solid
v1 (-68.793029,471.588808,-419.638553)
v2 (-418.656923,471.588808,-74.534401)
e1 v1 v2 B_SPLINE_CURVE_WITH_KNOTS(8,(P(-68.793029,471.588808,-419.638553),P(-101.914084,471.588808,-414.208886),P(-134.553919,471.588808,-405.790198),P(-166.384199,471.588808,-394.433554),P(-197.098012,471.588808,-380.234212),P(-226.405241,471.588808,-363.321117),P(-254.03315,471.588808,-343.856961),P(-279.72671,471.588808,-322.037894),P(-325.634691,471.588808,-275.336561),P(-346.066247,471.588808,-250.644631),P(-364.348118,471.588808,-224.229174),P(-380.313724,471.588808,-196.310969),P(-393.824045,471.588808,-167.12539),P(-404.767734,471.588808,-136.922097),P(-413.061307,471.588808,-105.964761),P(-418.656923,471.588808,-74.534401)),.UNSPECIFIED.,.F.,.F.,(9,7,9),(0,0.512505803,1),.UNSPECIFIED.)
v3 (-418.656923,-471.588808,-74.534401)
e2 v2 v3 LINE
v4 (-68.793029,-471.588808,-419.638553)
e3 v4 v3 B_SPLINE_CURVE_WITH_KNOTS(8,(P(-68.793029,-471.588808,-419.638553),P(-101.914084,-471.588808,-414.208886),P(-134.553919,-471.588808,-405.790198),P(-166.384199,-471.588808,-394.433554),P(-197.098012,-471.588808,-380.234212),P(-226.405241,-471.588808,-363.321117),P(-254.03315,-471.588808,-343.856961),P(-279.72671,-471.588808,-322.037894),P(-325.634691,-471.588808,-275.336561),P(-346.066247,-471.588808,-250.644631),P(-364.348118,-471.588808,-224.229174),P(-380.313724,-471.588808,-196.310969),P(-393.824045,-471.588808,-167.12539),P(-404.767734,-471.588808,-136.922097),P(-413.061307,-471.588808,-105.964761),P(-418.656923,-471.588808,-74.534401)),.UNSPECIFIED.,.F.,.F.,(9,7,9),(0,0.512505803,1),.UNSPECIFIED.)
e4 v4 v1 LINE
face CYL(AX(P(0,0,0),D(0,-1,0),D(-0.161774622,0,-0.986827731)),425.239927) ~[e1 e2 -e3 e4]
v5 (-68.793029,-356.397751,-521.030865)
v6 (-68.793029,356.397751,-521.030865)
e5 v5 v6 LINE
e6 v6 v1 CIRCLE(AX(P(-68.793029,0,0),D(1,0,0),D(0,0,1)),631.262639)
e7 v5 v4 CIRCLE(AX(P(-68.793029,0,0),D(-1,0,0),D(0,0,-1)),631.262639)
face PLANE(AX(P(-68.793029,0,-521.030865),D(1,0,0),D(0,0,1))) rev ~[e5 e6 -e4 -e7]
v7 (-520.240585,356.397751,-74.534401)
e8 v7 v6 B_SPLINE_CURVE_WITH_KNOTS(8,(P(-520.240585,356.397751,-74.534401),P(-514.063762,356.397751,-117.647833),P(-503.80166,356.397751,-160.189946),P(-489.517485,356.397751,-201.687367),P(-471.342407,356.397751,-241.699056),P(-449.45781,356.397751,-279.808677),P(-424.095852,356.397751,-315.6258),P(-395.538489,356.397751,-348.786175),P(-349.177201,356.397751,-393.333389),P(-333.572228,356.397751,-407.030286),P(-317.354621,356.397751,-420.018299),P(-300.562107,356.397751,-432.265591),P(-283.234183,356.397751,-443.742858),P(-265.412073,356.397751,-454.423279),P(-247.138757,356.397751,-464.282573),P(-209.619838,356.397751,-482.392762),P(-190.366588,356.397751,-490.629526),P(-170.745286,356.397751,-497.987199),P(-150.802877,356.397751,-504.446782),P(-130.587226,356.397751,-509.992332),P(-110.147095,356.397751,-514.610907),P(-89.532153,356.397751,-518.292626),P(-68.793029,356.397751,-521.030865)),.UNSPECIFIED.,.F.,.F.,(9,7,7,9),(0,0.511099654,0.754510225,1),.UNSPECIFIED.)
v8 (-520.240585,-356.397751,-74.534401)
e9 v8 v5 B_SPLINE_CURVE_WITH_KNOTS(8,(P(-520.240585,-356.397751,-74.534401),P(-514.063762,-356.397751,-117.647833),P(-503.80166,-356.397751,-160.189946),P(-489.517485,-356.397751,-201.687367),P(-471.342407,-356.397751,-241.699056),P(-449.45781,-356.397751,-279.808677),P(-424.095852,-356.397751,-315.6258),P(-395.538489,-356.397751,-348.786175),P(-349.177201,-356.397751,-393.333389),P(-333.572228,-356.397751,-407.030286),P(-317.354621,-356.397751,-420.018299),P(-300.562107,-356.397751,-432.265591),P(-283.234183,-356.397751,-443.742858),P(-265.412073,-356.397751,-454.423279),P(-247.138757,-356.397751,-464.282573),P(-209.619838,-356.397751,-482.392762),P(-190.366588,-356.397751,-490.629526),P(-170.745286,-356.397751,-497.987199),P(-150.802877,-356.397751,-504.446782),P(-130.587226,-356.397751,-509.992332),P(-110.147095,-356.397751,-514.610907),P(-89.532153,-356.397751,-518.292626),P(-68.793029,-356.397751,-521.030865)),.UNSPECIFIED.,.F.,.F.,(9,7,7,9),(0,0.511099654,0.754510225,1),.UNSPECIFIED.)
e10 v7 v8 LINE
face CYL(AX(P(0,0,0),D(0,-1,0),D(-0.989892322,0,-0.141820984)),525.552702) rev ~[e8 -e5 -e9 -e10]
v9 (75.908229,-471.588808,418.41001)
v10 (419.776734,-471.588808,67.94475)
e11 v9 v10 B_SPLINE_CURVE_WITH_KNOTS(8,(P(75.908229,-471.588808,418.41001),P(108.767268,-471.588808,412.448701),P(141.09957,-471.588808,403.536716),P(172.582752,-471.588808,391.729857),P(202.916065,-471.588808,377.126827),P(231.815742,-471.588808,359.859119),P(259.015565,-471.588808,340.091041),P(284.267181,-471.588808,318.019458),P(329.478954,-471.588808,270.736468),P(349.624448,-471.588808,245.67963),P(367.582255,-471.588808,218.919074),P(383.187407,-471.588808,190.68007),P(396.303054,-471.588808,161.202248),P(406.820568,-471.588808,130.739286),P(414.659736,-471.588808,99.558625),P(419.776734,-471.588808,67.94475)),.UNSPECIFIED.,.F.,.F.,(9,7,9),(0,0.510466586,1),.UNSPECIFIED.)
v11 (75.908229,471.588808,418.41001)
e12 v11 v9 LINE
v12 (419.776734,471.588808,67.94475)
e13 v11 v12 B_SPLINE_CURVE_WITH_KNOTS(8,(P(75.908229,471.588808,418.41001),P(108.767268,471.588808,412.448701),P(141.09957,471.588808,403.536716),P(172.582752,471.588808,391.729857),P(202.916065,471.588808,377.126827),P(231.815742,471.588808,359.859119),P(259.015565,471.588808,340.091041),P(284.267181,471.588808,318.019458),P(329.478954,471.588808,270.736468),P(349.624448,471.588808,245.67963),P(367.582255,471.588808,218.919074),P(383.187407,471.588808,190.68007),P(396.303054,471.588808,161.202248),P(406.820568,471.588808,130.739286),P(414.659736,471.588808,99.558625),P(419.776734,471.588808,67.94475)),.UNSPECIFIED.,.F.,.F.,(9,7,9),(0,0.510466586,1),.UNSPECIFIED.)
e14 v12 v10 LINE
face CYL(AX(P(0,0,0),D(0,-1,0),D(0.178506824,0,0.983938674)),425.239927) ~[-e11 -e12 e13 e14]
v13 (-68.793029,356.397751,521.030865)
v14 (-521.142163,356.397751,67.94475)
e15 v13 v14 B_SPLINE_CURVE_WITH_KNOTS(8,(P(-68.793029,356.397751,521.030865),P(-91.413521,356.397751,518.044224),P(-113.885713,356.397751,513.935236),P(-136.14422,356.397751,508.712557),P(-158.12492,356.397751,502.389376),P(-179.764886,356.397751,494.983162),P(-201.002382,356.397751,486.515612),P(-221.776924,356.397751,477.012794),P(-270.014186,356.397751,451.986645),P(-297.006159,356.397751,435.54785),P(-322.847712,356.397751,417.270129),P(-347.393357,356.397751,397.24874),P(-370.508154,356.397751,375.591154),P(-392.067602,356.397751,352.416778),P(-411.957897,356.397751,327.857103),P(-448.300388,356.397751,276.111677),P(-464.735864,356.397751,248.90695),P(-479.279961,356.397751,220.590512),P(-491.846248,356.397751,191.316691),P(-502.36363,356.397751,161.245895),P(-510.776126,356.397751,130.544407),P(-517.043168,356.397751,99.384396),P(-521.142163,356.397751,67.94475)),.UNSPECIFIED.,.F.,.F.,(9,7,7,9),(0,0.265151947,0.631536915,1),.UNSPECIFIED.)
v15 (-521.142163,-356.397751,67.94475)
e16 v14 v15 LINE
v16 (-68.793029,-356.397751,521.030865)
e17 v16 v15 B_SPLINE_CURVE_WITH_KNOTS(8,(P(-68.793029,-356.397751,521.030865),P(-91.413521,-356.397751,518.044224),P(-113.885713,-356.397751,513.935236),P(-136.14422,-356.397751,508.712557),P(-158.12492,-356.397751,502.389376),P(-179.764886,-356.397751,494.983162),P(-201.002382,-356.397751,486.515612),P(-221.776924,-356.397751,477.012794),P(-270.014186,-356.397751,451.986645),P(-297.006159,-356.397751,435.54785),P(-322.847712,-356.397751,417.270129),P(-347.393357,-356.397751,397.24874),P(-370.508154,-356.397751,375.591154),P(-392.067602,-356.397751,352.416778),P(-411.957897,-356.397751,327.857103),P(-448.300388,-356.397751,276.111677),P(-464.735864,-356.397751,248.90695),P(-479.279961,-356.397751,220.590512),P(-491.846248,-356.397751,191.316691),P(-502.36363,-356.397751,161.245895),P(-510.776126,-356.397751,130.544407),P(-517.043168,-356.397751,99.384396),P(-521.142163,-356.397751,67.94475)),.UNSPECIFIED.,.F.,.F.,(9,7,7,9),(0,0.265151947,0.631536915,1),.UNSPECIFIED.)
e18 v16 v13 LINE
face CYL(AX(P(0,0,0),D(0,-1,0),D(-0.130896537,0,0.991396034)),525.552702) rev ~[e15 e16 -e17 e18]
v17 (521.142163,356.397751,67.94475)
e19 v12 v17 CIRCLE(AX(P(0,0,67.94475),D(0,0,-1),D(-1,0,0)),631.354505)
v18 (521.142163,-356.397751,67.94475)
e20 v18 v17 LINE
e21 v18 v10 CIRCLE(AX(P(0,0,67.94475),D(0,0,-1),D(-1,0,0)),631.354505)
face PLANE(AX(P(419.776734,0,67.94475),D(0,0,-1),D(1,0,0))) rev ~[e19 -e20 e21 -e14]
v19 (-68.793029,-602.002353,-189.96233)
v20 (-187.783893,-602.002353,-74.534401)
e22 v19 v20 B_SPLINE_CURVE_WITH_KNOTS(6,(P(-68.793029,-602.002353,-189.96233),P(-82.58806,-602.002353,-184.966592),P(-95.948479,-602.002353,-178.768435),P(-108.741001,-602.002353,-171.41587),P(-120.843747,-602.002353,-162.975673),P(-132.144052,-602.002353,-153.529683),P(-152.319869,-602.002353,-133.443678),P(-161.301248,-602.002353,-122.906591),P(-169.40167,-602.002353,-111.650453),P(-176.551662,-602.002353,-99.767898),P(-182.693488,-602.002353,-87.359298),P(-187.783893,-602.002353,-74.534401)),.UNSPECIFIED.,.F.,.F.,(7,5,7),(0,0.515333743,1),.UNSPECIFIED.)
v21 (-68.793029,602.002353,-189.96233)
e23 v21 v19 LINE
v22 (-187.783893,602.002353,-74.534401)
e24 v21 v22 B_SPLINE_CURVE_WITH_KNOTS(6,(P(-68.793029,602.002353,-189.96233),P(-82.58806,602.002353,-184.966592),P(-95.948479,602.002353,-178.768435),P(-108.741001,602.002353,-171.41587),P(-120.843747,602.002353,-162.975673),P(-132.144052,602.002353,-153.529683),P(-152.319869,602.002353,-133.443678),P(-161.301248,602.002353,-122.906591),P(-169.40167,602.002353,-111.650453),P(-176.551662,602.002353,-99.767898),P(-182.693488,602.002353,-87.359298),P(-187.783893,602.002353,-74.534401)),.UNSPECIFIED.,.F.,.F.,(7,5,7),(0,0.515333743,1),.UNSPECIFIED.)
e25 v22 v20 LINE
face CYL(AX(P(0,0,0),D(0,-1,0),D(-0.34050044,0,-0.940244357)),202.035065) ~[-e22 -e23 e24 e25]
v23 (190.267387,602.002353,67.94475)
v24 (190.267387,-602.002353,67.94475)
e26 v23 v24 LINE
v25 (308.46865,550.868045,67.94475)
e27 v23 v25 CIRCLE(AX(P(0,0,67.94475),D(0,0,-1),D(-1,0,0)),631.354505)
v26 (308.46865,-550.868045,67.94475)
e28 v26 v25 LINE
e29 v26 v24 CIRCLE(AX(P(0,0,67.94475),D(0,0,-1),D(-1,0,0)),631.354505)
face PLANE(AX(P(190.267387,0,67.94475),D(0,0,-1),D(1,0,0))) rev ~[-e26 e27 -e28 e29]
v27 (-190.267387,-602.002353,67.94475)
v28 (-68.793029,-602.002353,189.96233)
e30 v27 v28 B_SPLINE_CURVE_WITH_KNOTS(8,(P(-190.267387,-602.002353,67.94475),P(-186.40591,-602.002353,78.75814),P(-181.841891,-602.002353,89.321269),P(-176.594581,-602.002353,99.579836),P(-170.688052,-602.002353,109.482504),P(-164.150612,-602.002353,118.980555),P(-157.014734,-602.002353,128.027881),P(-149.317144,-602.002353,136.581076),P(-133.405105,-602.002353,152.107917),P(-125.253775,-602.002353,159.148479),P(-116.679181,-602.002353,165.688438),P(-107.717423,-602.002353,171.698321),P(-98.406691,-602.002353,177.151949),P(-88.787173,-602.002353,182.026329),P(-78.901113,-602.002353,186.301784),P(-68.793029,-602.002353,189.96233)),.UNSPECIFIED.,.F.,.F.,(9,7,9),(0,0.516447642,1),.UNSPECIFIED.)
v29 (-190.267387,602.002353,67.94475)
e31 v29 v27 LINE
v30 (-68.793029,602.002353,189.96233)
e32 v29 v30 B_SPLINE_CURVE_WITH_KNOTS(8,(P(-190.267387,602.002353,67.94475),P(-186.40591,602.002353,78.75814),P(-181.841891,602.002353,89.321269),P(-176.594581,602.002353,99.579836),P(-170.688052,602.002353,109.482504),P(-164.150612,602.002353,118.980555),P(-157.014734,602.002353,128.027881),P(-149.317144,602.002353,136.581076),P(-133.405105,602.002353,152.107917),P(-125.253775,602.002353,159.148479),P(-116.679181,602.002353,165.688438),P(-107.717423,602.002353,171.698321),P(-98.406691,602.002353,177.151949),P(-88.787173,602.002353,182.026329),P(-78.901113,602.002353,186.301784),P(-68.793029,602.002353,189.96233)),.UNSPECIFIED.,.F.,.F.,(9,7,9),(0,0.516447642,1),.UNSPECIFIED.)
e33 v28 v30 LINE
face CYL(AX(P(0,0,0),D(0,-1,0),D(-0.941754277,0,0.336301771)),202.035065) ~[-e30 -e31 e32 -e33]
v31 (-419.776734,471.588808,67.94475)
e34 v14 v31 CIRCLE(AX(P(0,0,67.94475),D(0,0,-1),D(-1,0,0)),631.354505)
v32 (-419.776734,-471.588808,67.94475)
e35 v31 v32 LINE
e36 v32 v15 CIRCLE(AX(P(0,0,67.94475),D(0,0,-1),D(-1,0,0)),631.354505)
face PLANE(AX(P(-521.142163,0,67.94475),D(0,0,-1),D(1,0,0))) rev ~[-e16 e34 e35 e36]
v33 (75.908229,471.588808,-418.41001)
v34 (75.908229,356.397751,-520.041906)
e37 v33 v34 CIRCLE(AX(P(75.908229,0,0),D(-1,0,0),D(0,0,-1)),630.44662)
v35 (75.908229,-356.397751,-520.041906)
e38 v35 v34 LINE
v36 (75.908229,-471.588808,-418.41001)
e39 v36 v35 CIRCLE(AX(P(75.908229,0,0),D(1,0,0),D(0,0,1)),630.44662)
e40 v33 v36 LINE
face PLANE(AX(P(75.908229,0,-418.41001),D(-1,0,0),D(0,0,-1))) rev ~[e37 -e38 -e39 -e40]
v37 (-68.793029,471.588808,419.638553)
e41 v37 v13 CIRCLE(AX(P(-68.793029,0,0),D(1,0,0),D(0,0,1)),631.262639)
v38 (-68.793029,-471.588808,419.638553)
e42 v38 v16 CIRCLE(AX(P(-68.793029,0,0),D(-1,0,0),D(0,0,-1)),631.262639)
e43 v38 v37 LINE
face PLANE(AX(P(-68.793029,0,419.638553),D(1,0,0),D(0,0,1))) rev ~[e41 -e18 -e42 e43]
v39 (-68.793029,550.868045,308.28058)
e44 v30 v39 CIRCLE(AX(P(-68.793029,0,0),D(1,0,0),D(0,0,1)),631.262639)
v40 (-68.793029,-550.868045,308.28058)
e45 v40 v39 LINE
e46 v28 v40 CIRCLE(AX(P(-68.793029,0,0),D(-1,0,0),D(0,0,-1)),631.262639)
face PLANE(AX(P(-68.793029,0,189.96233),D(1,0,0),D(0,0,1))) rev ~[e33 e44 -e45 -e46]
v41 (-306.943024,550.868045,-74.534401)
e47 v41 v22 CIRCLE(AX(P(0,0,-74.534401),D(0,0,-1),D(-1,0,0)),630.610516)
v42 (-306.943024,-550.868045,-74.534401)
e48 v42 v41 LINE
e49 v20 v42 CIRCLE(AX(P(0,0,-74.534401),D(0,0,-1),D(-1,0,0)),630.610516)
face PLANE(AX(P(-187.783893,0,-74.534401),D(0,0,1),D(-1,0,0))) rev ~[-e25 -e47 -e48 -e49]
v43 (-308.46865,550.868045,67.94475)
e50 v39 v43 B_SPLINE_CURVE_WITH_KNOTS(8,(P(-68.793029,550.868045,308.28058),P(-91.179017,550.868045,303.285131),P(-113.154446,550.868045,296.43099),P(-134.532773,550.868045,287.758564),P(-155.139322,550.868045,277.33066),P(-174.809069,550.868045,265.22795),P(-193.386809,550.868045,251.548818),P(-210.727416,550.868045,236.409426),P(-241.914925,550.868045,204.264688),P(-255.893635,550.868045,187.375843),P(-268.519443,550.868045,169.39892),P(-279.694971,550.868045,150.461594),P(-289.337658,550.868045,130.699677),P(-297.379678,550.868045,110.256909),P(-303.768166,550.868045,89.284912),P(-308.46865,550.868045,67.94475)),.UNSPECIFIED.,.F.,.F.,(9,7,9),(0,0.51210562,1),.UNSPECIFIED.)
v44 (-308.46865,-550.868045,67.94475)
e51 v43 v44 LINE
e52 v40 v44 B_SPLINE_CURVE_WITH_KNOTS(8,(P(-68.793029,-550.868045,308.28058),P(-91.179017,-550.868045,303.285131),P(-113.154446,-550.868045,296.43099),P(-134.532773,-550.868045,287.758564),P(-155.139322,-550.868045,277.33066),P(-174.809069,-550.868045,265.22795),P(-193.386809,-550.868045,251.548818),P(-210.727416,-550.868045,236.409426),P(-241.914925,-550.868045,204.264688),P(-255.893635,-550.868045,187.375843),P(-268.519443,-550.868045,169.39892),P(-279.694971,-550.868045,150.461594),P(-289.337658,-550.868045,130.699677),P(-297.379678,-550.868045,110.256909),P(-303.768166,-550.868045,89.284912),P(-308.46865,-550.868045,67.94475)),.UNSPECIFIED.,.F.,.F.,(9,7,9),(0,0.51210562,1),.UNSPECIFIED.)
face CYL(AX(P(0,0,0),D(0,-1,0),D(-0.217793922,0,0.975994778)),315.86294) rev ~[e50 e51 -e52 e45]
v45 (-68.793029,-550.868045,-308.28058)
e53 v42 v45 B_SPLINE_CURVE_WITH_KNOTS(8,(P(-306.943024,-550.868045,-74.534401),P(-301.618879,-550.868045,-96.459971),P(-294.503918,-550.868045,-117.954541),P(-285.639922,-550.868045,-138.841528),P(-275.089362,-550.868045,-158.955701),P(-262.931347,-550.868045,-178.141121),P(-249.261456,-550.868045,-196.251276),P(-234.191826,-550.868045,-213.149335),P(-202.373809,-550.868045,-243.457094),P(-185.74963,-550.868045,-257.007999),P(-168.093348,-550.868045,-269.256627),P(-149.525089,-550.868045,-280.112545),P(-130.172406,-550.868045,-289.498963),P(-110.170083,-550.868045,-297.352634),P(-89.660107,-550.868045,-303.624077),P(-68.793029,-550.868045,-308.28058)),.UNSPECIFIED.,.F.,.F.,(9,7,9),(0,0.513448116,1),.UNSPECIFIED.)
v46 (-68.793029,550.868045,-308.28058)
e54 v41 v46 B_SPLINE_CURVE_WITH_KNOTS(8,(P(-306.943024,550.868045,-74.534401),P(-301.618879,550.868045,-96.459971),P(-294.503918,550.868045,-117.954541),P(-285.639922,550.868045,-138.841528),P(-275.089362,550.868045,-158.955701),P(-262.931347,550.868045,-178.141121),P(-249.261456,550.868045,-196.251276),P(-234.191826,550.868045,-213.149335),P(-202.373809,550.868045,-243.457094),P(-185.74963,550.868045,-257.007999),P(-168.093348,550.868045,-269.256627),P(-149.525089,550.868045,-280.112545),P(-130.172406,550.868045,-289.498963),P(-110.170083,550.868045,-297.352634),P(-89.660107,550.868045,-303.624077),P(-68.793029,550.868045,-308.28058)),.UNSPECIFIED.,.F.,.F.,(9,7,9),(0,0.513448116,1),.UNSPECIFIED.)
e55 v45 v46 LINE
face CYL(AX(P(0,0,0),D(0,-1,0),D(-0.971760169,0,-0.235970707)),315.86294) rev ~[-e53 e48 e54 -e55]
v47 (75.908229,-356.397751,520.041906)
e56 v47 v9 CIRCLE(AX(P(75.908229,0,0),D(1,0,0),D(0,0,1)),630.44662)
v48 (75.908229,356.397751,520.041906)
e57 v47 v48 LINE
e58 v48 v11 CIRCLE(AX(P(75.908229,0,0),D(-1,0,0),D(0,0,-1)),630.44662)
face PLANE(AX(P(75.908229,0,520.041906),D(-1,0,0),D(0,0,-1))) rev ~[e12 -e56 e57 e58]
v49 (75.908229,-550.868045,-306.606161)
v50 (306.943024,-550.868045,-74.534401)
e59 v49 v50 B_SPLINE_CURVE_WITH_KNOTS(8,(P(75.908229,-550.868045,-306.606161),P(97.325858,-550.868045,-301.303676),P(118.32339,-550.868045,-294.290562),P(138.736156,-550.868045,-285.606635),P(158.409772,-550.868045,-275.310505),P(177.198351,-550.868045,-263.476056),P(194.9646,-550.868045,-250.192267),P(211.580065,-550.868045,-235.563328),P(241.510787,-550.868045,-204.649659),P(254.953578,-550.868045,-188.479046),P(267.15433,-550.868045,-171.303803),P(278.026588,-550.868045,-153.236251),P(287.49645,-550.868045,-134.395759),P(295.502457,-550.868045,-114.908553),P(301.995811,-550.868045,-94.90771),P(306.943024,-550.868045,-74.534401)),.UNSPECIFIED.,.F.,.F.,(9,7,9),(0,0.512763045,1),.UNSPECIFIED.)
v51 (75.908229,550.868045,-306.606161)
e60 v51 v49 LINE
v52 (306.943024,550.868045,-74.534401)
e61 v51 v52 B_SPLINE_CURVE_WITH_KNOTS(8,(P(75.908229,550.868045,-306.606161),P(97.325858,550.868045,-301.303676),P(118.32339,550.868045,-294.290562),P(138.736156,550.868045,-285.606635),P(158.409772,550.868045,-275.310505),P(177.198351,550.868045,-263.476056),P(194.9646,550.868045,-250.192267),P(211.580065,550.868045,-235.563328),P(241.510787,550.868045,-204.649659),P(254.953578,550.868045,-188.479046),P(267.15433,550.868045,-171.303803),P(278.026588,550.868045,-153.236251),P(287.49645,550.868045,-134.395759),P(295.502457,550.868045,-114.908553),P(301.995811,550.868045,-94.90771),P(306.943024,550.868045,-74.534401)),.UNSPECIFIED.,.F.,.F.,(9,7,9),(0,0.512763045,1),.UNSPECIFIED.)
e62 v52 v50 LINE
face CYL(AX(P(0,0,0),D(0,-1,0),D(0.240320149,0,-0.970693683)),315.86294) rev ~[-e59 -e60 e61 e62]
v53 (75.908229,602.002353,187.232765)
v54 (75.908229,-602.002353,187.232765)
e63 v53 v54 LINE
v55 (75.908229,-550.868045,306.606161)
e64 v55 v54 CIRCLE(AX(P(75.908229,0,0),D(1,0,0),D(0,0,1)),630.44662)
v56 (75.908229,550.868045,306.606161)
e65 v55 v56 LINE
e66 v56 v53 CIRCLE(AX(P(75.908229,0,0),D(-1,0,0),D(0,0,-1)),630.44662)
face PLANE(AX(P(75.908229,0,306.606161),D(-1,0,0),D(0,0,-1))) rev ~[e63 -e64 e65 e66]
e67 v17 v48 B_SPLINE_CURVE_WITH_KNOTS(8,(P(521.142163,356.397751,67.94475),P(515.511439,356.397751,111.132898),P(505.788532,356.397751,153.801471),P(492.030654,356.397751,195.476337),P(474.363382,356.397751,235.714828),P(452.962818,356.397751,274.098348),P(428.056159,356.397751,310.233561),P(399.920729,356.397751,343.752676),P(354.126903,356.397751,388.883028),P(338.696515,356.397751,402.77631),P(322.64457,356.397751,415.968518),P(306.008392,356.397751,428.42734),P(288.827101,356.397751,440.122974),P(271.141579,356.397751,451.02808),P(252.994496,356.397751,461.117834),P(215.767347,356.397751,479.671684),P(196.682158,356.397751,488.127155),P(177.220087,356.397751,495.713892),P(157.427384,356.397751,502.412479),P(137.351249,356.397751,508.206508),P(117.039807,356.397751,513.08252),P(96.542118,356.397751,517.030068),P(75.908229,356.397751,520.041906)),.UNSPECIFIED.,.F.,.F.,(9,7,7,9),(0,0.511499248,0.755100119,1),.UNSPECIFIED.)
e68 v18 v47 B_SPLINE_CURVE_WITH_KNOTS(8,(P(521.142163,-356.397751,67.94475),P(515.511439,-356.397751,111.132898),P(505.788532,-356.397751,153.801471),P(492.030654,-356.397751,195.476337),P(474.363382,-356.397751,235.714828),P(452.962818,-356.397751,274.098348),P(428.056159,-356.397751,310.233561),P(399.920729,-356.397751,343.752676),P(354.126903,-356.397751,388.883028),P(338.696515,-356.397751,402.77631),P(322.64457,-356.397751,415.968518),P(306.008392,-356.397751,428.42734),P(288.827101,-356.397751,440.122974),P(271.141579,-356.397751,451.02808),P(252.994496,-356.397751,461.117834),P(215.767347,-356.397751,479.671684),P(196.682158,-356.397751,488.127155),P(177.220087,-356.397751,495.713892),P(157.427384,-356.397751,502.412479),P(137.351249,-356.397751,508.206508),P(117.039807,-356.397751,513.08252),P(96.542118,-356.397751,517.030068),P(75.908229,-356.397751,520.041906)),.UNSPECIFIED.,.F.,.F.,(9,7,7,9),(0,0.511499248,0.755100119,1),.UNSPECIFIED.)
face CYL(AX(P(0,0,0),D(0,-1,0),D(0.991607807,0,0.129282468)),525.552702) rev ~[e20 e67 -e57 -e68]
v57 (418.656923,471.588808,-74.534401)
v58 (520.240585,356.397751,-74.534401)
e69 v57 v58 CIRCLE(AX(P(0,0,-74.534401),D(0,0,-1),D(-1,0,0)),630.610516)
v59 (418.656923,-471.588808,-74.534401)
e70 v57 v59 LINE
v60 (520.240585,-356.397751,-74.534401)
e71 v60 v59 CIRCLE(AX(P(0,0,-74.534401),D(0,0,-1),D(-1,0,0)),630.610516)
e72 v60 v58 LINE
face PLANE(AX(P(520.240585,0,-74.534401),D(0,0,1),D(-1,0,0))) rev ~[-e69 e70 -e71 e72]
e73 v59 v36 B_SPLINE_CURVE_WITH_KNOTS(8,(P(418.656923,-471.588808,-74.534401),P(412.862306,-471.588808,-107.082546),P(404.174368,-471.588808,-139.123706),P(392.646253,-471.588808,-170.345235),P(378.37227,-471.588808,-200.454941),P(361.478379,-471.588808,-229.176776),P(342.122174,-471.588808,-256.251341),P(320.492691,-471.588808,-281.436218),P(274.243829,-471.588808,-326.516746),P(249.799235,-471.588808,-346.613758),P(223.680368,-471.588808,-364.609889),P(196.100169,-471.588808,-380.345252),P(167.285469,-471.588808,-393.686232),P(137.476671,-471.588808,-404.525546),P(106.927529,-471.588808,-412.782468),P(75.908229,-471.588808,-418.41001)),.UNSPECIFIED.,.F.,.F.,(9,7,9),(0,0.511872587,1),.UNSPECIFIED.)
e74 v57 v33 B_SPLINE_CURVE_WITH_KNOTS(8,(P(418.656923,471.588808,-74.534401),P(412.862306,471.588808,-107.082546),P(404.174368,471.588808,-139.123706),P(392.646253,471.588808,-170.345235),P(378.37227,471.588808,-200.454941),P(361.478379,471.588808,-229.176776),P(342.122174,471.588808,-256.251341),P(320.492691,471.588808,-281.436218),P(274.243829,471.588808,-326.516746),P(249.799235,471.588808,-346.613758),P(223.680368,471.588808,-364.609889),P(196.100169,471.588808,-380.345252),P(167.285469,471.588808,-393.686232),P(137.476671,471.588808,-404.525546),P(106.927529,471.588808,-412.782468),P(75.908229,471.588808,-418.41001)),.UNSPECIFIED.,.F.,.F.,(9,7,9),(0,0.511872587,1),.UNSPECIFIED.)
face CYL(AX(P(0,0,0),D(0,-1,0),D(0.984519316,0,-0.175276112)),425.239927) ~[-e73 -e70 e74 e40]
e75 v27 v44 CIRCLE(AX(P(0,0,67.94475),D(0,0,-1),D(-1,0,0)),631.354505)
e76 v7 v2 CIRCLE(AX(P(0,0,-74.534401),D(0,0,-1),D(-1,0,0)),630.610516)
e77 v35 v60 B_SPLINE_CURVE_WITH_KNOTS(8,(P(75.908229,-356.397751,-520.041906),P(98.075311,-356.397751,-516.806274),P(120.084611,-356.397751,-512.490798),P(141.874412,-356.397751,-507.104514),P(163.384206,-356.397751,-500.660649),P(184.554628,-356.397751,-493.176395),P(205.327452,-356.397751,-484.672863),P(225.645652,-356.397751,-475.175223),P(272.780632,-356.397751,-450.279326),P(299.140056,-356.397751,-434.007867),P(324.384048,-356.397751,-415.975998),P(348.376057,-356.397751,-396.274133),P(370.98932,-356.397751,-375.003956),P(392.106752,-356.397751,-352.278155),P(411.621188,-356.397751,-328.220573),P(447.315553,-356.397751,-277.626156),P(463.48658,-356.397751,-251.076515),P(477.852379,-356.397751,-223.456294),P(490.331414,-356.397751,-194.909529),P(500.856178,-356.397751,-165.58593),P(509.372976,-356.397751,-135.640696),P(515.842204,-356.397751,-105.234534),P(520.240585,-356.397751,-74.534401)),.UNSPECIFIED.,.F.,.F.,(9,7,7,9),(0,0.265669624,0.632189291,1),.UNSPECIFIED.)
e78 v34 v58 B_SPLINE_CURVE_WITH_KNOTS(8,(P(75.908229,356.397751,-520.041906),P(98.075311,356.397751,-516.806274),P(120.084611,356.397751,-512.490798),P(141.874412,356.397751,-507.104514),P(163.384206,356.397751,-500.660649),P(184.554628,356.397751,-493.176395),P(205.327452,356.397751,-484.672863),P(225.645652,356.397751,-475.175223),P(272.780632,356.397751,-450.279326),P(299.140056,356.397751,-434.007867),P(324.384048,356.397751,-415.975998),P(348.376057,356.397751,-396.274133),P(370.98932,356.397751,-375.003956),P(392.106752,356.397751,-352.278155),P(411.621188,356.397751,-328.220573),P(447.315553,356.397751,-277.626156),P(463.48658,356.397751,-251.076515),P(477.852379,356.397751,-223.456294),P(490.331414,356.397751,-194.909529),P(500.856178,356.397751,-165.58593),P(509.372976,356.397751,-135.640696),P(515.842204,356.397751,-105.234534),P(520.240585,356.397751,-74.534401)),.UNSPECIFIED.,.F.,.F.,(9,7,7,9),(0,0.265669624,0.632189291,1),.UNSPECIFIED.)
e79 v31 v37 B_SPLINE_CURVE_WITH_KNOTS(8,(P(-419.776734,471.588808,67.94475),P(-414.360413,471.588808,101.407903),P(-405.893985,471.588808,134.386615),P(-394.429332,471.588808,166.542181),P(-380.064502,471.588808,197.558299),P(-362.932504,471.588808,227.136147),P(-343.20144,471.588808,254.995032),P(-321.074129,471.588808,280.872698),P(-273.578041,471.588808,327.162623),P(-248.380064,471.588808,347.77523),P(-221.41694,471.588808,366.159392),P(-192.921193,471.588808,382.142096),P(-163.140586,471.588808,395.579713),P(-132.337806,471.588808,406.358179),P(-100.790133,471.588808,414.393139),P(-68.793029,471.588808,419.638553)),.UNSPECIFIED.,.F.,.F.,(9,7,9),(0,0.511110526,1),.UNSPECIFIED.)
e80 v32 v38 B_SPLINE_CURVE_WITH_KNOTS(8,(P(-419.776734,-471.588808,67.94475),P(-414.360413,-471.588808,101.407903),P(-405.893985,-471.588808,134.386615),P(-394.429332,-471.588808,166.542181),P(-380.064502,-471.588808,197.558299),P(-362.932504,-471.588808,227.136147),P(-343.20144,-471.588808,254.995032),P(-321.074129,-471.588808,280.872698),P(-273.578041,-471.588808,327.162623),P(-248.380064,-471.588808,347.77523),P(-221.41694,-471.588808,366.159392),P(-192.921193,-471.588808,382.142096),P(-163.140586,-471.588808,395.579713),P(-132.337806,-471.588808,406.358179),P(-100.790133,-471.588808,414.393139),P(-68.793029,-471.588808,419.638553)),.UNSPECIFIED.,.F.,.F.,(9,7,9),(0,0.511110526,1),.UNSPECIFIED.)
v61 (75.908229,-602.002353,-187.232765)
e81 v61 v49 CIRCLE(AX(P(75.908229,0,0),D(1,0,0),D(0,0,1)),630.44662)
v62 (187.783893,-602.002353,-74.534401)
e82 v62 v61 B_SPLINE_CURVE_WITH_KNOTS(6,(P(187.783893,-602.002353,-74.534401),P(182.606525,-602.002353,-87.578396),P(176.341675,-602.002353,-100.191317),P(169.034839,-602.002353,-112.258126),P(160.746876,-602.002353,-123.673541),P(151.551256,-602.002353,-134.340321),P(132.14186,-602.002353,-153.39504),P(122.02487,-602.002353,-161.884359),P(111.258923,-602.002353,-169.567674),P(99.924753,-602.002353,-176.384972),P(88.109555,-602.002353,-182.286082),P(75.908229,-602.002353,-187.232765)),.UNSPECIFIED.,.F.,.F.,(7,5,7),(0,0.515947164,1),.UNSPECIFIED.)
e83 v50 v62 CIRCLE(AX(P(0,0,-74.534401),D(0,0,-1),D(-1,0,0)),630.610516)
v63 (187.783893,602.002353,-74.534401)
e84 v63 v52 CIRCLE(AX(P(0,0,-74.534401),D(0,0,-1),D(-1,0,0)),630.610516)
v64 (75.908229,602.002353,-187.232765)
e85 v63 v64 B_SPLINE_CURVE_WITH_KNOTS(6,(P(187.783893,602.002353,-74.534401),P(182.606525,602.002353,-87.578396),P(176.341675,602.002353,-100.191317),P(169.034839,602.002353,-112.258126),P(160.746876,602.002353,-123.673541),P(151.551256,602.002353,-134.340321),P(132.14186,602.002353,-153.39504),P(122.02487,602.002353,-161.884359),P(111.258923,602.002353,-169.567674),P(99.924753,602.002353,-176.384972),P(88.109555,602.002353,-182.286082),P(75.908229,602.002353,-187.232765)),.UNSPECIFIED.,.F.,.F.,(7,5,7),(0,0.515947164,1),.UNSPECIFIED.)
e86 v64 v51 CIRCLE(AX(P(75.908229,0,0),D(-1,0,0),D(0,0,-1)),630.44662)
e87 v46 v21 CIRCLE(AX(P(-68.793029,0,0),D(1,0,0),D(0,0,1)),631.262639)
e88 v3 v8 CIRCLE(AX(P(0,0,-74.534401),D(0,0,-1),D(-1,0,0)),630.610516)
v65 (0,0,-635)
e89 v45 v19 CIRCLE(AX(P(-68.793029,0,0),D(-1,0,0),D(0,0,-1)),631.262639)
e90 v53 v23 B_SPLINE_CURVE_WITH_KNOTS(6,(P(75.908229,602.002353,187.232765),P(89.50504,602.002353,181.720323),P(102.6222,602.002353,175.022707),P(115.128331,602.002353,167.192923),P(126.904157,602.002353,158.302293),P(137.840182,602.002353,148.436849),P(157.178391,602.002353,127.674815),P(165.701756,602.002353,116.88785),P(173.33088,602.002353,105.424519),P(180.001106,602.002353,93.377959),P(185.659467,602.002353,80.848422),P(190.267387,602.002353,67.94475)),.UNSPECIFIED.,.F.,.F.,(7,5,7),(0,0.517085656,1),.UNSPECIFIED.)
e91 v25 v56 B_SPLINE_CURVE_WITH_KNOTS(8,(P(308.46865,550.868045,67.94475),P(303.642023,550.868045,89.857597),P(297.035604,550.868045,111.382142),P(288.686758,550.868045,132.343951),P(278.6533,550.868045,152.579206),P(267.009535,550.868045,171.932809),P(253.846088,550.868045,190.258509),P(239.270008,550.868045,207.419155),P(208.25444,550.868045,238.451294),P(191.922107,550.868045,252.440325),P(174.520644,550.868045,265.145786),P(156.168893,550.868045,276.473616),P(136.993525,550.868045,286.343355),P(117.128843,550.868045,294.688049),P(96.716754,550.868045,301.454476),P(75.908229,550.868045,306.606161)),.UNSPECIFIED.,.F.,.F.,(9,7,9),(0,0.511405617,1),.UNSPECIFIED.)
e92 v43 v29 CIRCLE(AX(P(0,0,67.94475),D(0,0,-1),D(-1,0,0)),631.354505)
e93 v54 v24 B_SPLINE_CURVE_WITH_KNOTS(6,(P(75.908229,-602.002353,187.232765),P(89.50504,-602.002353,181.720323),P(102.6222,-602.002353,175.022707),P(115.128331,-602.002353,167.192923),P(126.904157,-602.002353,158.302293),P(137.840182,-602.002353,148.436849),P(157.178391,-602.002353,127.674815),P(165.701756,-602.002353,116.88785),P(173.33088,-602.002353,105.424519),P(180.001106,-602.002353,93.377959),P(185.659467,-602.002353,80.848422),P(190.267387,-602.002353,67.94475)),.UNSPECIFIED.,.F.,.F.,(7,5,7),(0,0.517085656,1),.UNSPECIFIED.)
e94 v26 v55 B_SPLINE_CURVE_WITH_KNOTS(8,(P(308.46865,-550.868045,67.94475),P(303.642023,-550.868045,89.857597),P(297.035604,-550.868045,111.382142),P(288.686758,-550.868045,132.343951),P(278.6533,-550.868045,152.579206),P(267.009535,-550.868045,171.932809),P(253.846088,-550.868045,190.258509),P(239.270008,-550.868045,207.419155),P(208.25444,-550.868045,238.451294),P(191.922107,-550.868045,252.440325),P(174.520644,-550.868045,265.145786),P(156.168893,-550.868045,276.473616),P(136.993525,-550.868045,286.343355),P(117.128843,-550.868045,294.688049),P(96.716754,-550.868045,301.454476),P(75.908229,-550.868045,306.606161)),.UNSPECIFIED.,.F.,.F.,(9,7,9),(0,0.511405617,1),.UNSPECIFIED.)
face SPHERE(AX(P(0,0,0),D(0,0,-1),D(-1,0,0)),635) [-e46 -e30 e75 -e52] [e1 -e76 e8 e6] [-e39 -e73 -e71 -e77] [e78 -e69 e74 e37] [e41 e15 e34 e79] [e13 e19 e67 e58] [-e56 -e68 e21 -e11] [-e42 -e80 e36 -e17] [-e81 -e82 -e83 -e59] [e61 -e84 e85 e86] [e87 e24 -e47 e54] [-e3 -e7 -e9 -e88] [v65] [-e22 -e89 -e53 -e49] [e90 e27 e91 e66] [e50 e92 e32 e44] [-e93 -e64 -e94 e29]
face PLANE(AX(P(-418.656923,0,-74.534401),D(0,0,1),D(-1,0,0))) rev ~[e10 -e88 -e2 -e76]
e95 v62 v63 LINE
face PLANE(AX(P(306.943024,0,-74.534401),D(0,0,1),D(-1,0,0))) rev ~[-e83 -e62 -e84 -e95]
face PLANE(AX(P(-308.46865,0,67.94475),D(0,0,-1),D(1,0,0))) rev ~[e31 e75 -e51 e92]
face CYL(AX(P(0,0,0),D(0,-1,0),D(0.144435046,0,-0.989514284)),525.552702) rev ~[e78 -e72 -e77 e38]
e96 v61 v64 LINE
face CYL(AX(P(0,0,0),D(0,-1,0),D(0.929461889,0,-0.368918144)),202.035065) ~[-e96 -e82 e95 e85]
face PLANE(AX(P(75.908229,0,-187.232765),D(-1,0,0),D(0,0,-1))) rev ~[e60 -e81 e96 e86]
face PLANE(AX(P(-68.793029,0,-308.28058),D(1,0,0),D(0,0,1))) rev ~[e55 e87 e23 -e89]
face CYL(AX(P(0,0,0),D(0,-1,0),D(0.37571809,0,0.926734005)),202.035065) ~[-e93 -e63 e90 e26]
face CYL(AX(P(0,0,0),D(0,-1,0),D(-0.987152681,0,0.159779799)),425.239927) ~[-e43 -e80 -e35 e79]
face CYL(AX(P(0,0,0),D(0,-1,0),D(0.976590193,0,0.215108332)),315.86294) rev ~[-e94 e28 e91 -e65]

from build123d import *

# Parameters (mm, degrees)
F3_DEPTH      = 635.001
F3_DEPTH_BACK = 635.001


with BuildPart() as f1:
    # F0 (on Front) → F1 (revolve)
    with BuildSketch(Plane.XZ):
        with BuildLine():
            Line((0, -635), (0, 635))
            ThreePointArc((0, 635), (-635, 0), (0, -635))
        make_face()
    revolve(axis=Axis((0, 0, 0), (0, 0, -1)))

    # F2 (on Front) → F3 (cut, two sides)
    with BuildSketch(Plane.XZ) as f3_sk:
        with BuildLine():
            Line((-68.7930285931, 419.6385528851), (-68.7930285931, 521.0308650177))
            ThreePointArc((-68.7930285931, 521.0308650177), (-371.924238815, 371.3192745683), (-521.1421629514, 67.9447501898))
            Line((-521.1421629514, 67.9447501898), (-419.7767344341, 67.9447501898))
            ThreePointArc((-419.7767344341, 67.9447501898), (-300.9937475259, 300.3860179849), (-68.7930285931, 419.6385528851))
        make_face()
        with BuildLine():
            ThreePointArc((521.1421629514, 67.9447501898), (374.4532709289, 368.7687499975), (75.908228755, 520.0419058993))
            Line((75.908228755, 520.0419058993), (75.908228755, 418.4100102265))
            ThreePointArc((75.908228755, 418.4100102265), (303.5331453171, 297.8197870263), (419.7767344341, 67.9447501898))
            Line((419.7767344341, 67.9447501898), (521.1421629514, 67.9447501898))
        make_face()
        with BuildLine():
            ThreePointArc((75.908228755, -520.0419058993), (372.1123300156, -371.1307814429), (520.2405848329, -74.5344012976))
            Line((520.2405848329, -74.5344012976), (418.6569226392, -74.5344012976))
            ThreePointArc((418.6569226392, -74.5344012976), (301.1831350648, -300.1961275617), (75.908228755, -418.4100102265))
            Line((75.908228755, -418.4100102265), (75.908228755, -520.0419058993))
        make_face()
        with BuildLine():
            Line((-68.7930285931, 189.9623297509), (-68.7930285931, 308.2805801706))
            ThreePointArc((-68.7930285931, 308.2805801706), (-223.6558098066, 223.0414213394), (-308.4686496469, 67.9447501898))
            Line((-308.4686496469, 67.9447501898), (-190.2673866669, 67.9447501898))
            ThreePointArc((-190.2673866669, 67.9447501898), (-143.1787243942, 142.5412936248), (-68.7930285931, 189.9623297509))
        make_face()
        with BuildLine():
            ThreePointArc((187.7838931607, -74.5344012976), (143.3827538067, -142.3360580394), (75.908228755, -187.2327650671))
            Line((75.908228755, -187.2327650671), (75.908228755, -306.6061605719))
            ThreePointArc((75.908228755, -306.6061605719), (223.8483767569, -222.8481570861), (306.943023893, -74.5344012976))
            Line((306.943023893, -74.5344012976), (187.7838931607, -74.5344012976))
        make_face()
        with BuildLine():
            ThreePointArc((308.4686496469, 67.9447501898), (226.2216023369, 220.4386162392), (75.908228755, 306.6061605719))
            Line((75.908228755, 306.6061605719), (75.908228755, 187.2327650671))
            ThreePointArc((75.908228755, 187.2327650671), (145.8415996369, 139.8155761092), (190.2673866669, 67.9447501898))
            Line((190.2673866669, 67.9447501898), (308.4686496469, 67.9447501898))
        make_face()
        with BuildLine():
            Line((-68.7930285931, -521.0308650177), (-68.7930285931, -419.6385528851))
            ThreePointArc((-68.7930285931, -419.6385528851), (-298.6236470875, -302.7423215388), (-418.6569226392, -74.5344012976))
            Line((-418.6569226392, -74.5344012976), (-520.2405848329, -74.5344012976))
            ThreePointArc((-520.2405848329, -74.5344012976), (-369.5672096724, -373.6652520894), (-68.7930285931, -521.0308650177))
        make_face()
        with BuildLine():
            Line((-187.7838931607, -74.5344012976), (-306.943023893, -74.5344012976))
            ThreePointArc((-306.943023893, -74.5344012976), (-221.2548628141, -225.4233407934), (-68.7930285931, -308.2805801706))
            Line((-68.7930285931, -308.2805801706), (-68.7930285931, -189.9623297509))
            ThreePointArc((-68.7930285931, -189.9623297509), (-140.6727793886, -145.0149531823), (-187.7838931607, -74.5344012976))
        make_face()
    extrude(amount=-F3_DEPTH, mode=Mode.SUBTRACT)
    extrude(f3_sk.sketch, amount=F3_DEPTH_BACK, mode=Mode.SUBTRACT)


solid = f1.part
